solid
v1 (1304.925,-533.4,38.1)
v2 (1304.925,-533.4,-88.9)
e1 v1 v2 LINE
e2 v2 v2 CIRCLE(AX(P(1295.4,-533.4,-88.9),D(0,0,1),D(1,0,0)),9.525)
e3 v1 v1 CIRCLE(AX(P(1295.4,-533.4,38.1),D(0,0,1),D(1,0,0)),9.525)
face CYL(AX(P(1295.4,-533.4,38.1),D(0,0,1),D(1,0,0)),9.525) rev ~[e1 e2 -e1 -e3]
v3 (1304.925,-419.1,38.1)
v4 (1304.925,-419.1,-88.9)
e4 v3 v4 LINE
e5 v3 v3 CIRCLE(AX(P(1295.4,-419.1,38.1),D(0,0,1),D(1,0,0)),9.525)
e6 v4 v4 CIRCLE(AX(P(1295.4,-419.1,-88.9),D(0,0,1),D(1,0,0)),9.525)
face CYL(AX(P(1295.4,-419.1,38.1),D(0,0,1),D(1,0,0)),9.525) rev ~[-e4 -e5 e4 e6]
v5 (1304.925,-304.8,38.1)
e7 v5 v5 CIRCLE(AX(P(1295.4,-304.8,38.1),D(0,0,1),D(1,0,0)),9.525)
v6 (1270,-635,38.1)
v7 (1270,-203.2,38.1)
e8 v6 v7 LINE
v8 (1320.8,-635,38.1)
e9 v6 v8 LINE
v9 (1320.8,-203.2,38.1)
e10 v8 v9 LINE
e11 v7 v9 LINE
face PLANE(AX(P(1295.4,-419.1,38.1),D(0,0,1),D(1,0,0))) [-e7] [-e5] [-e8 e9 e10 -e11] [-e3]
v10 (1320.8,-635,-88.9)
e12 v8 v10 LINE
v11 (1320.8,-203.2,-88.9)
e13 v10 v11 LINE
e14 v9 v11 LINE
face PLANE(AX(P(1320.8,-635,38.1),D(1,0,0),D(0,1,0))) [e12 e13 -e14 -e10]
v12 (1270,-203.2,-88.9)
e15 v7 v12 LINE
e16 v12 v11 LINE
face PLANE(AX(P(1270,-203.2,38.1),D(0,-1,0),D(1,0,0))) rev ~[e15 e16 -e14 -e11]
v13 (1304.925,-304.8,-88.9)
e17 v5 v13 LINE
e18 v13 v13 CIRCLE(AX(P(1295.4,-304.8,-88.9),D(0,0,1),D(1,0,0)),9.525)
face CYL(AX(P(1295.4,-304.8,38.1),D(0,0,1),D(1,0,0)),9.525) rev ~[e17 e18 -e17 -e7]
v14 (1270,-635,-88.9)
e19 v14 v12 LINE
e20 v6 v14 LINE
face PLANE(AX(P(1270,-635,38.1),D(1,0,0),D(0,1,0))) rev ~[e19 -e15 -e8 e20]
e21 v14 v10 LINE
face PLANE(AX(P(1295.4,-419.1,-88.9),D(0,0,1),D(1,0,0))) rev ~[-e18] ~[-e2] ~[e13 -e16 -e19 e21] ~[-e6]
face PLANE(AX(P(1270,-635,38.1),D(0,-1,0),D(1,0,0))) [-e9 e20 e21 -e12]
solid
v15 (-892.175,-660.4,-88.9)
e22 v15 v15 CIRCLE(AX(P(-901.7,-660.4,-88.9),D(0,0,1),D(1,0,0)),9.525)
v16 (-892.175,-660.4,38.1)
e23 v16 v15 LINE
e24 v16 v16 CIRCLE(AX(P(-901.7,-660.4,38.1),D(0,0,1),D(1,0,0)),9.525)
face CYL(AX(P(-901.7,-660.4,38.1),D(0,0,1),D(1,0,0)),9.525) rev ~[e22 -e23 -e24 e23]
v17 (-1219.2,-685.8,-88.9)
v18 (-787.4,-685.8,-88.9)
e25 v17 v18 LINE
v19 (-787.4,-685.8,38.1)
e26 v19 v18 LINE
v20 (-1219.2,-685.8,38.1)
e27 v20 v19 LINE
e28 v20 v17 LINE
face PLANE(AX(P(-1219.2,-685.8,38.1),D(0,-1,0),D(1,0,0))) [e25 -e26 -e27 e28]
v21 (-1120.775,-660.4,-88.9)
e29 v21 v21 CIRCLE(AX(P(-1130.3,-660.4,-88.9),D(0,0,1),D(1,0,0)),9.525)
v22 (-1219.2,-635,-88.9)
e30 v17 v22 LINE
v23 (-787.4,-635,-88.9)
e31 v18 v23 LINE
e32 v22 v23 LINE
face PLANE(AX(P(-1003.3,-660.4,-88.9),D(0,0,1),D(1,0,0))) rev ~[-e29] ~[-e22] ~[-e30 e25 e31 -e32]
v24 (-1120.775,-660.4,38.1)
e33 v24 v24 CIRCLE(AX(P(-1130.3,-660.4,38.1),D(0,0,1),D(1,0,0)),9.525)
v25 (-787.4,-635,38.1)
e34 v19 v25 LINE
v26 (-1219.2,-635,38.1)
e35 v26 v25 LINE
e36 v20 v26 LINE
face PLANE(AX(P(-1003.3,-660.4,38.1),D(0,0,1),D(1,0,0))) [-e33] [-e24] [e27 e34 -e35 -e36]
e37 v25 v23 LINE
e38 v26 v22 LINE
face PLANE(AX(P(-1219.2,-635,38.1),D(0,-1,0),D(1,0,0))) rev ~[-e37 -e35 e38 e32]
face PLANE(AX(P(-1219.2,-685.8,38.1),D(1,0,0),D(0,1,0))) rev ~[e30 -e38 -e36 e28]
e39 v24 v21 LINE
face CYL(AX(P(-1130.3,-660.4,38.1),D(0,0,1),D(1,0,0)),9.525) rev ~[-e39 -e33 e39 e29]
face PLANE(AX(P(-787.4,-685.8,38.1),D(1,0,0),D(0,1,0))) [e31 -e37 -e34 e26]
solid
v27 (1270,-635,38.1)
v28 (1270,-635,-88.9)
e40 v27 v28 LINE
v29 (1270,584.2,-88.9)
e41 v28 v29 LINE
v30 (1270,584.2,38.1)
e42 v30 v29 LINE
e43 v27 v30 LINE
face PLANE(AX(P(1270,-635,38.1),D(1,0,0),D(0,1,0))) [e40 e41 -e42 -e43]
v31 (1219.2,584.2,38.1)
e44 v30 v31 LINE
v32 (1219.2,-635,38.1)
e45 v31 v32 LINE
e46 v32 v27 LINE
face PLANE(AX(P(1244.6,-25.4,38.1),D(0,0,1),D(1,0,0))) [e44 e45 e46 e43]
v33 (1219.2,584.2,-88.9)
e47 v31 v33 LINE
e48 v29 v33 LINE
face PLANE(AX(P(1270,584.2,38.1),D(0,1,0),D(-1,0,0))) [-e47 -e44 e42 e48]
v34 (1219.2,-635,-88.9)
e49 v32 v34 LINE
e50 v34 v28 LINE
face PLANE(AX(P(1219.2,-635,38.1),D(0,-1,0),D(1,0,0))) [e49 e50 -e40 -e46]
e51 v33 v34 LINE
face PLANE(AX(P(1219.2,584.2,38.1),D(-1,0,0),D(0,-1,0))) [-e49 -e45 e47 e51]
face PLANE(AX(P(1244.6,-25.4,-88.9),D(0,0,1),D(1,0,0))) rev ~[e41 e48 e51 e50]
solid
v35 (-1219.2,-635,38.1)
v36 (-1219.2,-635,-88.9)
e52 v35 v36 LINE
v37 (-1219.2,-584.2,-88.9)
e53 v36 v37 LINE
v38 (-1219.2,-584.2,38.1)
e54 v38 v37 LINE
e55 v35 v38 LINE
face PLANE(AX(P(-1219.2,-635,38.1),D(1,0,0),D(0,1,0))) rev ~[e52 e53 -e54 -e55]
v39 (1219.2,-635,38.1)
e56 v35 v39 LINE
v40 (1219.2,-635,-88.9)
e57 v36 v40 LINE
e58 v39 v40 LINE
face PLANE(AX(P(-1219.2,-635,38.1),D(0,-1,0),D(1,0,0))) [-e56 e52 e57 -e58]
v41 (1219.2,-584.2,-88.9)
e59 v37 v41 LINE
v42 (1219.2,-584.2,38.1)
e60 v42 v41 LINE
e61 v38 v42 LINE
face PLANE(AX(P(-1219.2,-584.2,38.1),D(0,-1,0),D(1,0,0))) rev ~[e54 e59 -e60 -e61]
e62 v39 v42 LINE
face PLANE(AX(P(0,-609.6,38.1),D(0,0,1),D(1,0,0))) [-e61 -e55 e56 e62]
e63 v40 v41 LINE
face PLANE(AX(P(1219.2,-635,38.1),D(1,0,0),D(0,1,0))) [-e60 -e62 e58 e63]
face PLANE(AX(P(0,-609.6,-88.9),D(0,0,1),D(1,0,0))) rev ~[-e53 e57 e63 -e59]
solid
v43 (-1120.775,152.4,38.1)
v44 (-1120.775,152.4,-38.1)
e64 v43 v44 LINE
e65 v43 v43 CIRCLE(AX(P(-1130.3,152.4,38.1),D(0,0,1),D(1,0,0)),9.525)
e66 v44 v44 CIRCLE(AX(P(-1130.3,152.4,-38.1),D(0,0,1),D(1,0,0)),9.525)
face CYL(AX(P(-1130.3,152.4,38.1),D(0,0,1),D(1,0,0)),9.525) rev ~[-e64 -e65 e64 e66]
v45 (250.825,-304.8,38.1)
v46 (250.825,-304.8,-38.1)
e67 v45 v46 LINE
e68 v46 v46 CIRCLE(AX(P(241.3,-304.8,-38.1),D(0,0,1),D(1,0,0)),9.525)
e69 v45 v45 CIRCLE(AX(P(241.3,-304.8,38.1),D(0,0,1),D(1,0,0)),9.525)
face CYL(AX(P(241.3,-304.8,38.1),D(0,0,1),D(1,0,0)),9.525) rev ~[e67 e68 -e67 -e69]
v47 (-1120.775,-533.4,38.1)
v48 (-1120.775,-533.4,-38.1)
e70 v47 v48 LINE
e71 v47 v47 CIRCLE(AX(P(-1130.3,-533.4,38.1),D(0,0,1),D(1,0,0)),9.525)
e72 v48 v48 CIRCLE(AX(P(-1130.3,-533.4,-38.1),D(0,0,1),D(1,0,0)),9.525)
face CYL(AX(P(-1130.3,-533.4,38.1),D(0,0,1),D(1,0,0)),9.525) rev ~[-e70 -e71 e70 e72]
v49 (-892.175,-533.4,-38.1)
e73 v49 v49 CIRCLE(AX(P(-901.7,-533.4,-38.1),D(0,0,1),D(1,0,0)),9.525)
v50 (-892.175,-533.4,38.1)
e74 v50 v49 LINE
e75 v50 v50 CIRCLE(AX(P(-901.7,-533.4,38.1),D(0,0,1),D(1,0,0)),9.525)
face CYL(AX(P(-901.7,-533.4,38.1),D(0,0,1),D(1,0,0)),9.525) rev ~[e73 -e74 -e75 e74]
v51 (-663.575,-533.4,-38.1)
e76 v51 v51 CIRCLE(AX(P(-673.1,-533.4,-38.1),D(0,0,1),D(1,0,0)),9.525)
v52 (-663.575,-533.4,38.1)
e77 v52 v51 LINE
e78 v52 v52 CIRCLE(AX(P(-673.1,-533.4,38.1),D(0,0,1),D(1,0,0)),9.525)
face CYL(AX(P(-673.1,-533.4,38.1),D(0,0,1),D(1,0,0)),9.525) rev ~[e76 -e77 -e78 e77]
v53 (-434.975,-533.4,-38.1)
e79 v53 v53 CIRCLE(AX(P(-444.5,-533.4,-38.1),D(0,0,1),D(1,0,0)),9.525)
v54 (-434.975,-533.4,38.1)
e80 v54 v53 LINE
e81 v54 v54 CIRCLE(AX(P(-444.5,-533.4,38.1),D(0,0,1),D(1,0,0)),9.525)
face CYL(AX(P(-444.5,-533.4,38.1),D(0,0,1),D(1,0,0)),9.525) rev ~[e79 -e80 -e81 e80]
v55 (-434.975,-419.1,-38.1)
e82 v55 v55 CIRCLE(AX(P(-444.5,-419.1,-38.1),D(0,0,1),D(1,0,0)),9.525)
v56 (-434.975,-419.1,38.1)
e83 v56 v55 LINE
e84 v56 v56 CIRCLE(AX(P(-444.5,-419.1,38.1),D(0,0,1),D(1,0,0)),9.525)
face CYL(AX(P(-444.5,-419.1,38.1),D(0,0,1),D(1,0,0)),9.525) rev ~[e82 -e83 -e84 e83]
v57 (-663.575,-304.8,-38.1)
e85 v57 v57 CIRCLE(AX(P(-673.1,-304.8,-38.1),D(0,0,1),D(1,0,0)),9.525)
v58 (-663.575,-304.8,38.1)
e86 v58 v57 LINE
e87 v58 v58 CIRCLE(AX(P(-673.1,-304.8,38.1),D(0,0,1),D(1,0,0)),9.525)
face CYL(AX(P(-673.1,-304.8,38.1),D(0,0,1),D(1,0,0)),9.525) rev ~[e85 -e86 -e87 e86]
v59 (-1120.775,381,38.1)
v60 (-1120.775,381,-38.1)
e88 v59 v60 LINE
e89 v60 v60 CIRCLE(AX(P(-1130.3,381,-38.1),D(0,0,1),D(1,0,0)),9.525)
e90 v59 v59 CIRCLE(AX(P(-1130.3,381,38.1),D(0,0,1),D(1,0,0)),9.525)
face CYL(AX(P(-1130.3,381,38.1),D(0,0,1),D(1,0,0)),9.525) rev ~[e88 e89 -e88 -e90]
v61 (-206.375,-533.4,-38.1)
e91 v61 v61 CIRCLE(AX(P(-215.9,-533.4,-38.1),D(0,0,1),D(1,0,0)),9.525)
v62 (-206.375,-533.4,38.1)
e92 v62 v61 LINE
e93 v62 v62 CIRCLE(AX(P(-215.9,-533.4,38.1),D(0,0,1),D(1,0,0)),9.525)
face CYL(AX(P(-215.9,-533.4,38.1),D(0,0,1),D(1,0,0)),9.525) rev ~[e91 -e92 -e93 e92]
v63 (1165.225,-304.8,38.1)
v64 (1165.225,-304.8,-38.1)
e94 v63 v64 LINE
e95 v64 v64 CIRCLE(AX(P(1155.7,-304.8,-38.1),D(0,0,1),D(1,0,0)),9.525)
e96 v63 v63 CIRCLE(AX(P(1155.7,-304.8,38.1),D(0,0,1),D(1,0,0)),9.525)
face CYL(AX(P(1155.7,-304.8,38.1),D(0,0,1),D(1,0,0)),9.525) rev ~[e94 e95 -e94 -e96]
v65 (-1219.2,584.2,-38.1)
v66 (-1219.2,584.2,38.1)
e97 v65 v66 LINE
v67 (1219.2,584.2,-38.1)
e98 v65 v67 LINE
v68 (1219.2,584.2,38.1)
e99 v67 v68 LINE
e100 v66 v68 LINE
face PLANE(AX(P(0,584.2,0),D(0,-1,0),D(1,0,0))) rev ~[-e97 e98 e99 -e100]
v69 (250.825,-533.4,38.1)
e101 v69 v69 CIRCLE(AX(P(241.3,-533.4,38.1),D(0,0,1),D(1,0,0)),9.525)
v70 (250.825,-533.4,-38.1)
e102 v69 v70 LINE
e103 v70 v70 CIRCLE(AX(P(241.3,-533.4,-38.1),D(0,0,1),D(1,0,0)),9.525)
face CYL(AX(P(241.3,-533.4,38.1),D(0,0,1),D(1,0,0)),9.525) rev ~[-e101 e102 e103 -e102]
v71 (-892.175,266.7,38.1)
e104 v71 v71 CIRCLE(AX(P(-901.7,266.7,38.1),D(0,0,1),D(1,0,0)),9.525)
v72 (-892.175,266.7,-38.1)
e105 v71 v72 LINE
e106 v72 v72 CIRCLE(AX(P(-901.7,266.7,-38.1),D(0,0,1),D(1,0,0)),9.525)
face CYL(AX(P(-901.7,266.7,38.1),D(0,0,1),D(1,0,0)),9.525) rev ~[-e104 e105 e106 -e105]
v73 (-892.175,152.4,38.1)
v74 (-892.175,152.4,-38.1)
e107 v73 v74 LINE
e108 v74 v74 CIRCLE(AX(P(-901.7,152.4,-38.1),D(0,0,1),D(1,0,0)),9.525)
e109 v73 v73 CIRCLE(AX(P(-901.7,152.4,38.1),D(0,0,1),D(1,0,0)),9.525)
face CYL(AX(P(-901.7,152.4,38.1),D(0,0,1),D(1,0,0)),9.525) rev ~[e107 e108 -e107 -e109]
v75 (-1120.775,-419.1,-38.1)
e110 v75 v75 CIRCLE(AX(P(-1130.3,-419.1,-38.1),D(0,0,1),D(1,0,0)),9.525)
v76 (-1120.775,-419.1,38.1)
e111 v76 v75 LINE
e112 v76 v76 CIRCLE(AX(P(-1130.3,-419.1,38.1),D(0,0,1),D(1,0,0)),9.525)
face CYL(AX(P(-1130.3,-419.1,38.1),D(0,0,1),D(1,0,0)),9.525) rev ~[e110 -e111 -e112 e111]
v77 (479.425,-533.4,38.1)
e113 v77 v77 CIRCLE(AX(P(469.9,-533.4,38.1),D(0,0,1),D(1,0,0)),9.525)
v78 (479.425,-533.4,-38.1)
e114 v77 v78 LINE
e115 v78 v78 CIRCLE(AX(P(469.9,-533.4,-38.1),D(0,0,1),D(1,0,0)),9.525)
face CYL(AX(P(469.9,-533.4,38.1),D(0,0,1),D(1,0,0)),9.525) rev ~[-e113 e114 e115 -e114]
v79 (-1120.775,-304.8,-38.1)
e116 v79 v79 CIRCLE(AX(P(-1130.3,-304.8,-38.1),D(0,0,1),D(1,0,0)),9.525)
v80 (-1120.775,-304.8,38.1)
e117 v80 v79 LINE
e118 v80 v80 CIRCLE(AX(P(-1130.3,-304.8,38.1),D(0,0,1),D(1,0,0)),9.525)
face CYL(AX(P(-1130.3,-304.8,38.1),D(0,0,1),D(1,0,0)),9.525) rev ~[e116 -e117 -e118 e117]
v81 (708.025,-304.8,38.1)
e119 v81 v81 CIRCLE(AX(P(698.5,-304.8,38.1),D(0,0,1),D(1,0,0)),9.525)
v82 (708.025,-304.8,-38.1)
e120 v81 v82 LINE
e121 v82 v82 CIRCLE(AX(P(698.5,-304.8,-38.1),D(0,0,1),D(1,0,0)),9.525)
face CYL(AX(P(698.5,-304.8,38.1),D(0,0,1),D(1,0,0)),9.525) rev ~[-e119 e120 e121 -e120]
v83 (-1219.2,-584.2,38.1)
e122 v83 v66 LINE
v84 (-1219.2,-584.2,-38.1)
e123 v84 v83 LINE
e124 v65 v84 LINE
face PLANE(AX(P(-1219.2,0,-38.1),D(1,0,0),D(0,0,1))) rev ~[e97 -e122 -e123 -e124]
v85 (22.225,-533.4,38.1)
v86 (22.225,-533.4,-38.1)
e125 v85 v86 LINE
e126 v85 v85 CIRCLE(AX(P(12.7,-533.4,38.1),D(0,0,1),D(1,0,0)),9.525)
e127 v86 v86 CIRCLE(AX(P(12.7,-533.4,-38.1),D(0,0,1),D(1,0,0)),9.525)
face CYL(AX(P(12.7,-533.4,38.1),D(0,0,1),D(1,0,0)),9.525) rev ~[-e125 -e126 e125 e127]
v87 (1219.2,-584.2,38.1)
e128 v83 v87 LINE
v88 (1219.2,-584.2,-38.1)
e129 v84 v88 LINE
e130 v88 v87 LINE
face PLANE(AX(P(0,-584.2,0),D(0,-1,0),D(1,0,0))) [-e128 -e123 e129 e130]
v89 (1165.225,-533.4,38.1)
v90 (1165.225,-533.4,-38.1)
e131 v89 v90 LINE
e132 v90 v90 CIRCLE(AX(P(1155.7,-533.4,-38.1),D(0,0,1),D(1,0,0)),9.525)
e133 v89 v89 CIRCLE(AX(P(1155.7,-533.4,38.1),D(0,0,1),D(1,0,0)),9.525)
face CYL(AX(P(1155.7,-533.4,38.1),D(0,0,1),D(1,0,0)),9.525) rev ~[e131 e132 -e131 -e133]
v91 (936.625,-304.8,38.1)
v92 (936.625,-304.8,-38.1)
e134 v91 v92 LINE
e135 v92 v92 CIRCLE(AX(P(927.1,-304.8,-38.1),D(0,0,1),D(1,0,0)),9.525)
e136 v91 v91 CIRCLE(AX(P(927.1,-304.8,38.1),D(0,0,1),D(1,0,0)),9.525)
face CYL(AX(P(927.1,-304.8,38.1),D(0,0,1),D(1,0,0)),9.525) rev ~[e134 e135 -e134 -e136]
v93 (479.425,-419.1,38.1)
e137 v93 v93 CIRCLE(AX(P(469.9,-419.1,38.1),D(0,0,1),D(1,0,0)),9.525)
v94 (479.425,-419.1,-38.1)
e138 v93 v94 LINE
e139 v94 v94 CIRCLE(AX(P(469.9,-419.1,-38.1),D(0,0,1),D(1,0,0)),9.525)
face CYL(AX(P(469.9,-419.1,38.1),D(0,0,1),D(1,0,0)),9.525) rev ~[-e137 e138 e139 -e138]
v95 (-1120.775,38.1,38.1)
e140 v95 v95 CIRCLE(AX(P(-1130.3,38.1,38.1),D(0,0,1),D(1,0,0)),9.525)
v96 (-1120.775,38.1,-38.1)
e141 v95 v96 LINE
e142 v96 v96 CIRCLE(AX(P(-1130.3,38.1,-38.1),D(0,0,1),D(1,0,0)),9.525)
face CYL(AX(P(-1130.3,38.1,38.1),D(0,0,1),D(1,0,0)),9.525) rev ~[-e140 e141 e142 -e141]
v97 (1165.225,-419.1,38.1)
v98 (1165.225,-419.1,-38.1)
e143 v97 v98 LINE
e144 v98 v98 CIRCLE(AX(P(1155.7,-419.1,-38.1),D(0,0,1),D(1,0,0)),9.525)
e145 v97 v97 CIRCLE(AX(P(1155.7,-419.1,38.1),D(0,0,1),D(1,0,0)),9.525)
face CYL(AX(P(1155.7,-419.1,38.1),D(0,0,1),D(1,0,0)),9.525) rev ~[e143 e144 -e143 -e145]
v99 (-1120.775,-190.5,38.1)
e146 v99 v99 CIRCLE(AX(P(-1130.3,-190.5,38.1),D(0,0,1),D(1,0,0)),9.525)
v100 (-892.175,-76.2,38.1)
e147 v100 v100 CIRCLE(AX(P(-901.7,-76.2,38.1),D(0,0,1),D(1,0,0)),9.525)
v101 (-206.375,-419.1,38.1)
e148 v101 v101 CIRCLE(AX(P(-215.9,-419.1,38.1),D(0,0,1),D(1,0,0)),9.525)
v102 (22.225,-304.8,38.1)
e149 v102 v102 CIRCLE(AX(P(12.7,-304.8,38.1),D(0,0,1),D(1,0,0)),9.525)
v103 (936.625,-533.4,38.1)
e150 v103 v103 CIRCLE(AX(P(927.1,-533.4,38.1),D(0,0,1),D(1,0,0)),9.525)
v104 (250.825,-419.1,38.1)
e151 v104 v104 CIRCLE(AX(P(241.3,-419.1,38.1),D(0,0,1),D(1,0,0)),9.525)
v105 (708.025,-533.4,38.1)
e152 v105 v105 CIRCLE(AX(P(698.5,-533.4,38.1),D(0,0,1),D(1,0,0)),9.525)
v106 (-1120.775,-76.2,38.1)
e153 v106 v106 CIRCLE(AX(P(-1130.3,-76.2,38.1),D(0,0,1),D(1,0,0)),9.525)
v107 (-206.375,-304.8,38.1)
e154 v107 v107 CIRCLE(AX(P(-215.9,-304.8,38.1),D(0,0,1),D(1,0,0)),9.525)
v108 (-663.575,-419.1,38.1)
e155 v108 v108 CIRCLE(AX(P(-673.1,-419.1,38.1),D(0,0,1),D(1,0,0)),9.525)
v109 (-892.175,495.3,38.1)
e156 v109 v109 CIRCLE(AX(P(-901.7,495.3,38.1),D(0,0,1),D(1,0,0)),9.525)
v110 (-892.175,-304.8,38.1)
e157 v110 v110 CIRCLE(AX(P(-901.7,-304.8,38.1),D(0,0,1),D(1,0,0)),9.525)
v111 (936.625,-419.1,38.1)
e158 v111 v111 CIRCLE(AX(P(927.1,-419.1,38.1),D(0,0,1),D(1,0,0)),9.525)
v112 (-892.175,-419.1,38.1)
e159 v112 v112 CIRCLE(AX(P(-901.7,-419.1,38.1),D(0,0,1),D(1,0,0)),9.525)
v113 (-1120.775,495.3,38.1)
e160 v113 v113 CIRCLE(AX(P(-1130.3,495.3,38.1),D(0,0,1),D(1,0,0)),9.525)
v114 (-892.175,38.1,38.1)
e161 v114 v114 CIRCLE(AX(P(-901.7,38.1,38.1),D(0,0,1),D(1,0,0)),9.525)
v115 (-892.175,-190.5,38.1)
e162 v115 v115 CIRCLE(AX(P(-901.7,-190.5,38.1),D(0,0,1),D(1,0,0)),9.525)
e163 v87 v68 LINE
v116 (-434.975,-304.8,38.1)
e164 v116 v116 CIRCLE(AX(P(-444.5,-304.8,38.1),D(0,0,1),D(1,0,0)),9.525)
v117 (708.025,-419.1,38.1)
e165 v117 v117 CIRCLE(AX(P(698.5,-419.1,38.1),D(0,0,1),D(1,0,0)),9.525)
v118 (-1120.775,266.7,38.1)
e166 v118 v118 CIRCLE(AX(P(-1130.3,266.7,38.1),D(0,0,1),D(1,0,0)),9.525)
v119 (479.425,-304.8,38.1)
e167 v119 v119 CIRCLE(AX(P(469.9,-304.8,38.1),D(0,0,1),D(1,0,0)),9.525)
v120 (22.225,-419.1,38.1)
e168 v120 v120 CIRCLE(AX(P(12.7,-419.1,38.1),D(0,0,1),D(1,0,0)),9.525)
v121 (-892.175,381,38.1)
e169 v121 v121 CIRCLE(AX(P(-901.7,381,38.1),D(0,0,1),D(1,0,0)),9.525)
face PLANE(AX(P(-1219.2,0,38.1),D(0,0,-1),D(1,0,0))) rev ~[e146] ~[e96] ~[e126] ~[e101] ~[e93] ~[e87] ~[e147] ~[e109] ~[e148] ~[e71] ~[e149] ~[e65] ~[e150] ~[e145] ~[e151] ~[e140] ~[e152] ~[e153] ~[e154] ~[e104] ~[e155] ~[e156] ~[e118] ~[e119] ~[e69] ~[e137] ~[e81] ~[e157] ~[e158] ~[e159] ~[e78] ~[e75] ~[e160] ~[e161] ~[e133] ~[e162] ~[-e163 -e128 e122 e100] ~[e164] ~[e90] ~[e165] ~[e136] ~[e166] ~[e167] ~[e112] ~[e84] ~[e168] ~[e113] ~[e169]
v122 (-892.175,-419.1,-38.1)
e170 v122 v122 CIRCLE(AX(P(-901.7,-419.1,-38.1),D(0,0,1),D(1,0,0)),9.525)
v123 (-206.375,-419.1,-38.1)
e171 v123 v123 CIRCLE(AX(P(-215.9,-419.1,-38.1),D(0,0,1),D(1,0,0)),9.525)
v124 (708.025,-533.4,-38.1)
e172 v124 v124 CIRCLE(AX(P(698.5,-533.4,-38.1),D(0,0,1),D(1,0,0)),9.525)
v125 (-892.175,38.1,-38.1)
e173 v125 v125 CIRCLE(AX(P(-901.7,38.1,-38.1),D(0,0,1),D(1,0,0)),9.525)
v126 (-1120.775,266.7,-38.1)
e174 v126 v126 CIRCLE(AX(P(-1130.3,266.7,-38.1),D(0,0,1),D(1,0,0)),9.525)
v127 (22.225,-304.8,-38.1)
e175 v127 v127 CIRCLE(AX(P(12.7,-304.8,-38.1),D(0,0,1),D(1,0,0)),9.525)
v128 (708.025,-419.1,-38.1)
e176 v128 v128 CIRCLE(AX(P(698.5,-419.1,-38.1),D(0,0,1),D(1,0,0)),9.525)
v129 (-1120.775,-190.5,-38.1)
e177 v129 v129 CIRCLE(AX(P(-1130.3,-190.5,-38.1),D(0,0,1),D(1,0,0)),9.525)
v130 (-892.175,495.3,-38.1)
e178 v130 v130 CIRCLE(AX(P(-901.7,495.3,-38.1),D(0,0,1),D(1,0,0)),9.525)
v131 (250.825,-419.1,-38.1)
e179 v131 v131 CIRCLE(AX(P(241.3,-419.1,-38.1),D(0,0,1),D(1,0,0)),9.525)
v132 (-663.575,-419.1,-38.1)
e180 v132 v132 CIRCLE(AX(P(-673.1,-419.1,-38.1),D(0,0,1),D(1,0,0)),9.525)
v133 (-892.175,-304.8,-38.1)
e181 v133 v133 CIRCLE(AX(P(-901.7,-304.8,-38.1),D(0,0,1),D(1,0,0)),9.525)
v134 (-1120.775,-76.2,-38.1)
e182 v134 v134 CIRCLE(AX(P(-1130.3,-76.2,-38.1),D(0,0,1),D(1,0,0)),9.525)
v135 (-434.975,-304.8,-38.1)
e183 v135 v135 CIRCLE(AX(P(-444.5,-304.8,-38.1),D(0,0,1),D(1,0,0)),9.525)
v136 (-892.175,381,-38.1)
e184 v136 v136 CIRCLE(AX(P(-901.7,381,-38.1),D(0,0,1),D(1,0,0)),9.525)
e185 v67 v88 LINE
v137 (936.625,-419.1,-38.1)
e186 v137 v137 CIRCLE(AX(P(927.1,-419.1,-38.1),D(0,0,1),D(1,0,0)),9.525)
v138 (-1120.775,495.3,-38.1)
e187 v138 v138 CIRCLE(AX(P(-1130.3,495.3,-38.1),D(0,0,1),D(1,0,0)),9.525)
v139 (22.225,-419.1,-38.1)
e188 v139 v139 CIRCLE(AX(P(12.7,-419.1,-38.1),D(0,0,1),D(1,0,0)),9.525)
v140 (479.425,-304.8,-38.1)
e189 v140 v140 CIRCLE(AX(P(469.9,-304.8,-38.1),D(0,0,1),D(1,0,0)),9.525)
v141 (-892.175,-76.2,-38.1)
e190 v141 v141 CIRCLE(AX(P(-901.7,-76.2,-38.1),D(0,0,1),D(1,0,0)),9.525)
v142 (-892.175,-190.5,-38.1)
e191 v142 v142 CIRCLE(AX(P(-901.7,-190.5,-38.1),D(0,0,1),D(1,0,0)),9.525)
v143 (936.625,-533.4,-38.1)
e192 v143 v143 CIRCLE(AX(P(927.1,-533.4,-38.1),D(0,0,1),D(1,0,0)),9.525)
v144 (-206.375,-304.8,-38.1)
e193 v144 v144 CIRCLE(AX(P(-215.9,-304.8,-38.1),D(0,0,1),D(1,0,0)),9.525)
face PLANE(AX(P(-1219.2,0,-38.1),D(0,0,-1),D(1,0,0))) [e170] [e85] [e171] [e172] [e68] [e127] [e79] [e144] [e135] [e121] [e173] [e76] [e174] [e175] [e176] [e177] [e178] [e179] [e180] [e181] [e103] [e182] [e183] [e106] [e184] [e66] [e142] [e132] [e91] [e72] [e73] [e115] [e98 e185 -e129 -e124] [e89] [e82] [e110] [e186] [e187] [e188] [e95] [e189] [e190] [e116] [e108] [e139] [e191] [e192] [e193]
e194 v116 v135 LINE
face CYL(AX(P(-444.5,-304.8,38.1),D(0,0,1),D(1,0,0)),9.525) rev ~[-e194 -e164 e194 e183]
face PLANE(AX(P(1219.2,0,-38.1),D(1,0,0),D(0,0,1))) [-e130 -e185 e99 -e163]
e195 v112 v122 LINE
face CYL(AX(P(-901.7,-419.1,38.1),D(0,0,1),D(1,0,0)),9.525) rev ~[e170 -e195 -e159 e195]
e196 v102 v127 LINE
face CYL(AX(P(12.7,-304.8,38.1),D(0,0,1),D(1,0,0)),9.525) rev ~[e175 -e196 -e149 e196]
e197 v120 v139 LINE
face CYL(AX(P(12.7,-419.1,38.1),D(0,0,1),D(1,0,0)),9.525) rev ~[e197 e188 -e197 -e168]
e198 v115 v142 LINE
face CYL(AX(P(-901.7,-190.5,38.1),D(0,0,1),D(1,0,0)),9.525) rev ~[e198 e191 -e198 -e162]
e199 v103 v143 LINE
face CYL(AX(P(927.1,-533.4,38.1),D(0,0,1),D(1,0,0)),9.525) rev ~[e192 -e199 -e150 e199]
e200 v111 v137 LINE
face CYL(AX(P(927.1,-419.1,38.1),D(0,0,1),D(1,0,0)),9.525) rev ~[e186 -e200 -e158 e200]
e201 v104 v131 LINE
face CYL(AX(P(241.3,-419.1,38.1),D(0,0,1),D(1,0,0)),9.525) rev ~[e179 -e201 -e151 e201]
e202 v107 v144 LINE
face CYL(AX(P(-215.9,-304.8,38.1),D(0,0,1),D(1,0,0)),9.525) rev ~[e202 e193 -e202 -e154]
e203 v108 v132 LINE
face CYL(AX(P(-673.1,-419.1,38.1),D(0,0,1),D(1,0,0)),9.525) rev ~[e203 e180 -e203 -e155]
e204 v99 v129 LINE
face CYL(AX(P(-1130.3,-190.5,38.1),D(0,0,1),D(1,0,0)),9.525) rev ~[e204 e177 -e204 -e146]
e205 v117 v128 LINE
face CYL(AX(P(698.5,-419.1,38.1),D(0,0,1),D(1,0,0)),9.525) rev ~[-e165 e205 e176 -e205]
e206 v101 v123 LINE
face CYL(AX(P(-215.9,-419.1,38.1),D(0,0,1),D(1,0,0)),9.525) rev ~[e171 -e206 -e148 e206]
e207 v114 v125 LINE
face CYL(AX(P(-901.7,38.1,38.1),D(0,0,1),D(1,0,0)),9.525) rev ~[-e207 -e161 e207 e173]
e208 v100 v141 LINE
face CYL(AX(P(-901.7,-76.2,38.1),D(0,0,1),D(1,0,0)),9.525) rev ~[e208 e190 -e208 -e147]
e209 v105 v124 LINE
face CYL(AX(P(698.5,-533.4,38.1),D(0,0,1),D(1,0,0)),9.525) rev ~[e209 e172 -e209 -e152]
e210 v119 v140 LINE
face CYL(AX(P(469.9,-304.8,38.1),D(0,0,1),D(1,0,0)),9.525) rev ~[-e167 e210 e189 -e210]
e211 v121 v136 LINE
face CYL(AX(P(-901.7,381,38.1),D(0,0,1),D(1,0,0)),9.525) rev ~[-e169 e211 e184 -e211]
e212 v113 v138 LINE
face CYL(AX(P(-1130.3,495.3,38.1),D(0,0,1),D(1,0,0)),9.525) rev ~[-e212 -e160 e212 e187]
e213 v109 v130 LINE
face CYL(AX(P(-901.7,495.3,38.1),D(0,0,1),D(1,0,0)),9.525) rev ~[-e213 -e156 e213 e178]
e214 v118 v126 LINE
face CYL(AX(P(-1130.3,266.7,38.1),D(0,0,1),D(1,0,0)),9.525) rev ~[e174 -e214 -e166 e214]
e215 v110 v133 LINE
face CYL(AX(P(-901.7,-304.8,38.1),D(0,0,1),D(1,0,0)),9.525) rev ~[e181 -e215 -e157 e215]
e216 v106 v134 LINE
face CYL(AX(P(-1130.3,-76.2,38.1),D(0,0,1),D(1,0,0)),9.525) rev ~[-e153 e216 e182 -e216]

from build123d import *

# Parameters (mm, degrees)
F0_W      = 2438.4
F0_H      = 76.2
F1_DEPTH  = 584.2
F2_W      = 2438.4
F2_H      = 50.8
F3_DEPTH  = 127
F5_DEPTH  = 127
F6_W      = 431.8
F6_H      = 50.8
F7_DEPTH  = 127
F8_W      = 50.8
F8_H      = 431.8
F9_DEPTH  = 127
F10_R     = 9.525
F11_DEPTH = 76.2
F12_R     = 9.525
F13_DEPTH = 127
F14_R     = 9.525
F15_DEPTH = 127


with BuildPart() as f1:
    # F0 (on Front) → F1 (new body, symmetric)
    with BuildSketch(Plane.XZ):
        Rectangle(F0_W, F0_H)
    extrude(amount=F1_DEPTH, both=True)

    # F10 (on face) → F11 (cut)
    with BuildSketch(Plane.XY.offset(38.1)):
        with Locations((-1130.3, -533.4)):
            Circle(F10_R)
        with Locations((-1130.3, -419.1)):
            Circle(F10_R)
        with Locations((-1130.3, -304.8)):
            Circle(F10_R)
        with Locations((-1130.3, -190.5)):
            Circle(F10_R)
        with Locations((-1130.3, -76.2)):
            Circle(F10_R)
        with Locations((-1130.3, 38.1)):
            Circle(F10_R)
        with Locations((-1130.3, 152.4)):
            Circle(F10_R)
        with Locations((-1130.3, 266.7)):
            Circle(F10_R)
        with Locations((-1130.3, 381)):
            Circle(F10_R)
        with Locations((-1130.3, 495.3)):
            Circle(F10_R)
        with Locations((-901.7, -533.4)):
            Circle(F10_R)
        with Locations((-901.7, -419.1)):
            Circle(F10_R)
        with Locations((-901.7, -304.8)):
            Circle(F10_R)
        with Locations((-901.7, -190.5)):
            Circle(F10_R)
        with Locations((-901.7, -76.2)):
            Circle(F10_R)
        with Locations((-901.7, 38.1)):
            Circle(F10_R)
        with Locations((-901.7, 152.4)):
            Circle(F10_R)
        with Locations((-901.7, 266.7)):
            Circle(F10_R)
        with Locations((-901.7, 381)):
            Circle(F10_R)
        with Locations((-901.7, 495.3)):
            Circle(F10_R)
        with Locations((-673.1, -533.4)):
            Circle(F10_R)
        with Locations((-673.1, -419.1)):
            Circle(F10_R)
        with Locations((-673.1, -304.8)):
            Circle(F10_R)
        with Locations((-444.5, -533.4)):
            Circle(F10_R)
        with Locations((-444.5, -419.1)):
            Circle(F10_R)
        with Locations((-444.5, -304.8)):
            Circle(F10_R)
        with Locations((-215.9, -533.4)):
            Circle(F10_R)
        with Locations((-215.9, -419.1)):
            Circle(F10_R)
        with Locations((-215.9, -304.8)):
            Circle(F10_R)
        with Locations((12.7, -533.4)):
            Circle(F10_R)
        with Locations((12.7, -419.1)):
            Circle(F10_R)
        with Locations((12.7, -304.8)):
            Circle(F10_R)
        with Locations((241.3, -533.4)):
            Circle(F10_R)
        with Locations((241.3, -419.1)):
            Circle(F10_R)
        with Locations((241.3, -304.8)):
            Circle(F10_R)
        with Locations((469.9, -533.4)):
            Circle(F10_R)
        with Locations((469.9, -419.1)):
            Circle(F10_R)
        with Locations((469.9, -304.8)):
            Circle(F10_R)
        with Locations((698.5, -533.4)):
            Circle(F10_R)
        with Locations((698.5, -419.1)):
            Circle(F10_R)
        with Locations((698.5, -304.8)):
            Circle(F10_R)
        with Locations((927.1, -533.4)):
            Circle(F10_R)
        with Locations((927.1, -419.1)):
            Circle(F10_R)
        with Locations((927.1, -304.8)):
            Circle(F10_R)
        with Locations((1155.7, -533.4)):
            Circle(F10_R)
        with Locations((1155.7, -419.1)):
            Circle(F10_R)
        with Locations((1155.7, -304.8)):
            Circle(F10_R)
    extrude(amount=-F11_DEPTH, mode=Mode.SUBTRACT)


with BuildPart() as f3:
    # F2 (on face) → F3 (new body)
    with BuildSketch(Plane.XY.offset(38.1)):
        with Locations((0, -609.6)):
            Rectangle(F2_W, F2_H)
    extrude(amount=-F3_DEPTH)


with BuildPart() as f5:
    # F4 (on face) → F5 (new body)
    with BuildSketch(Plane.XY.offset(38.1)):
        Polygon((1219.2, 584.2), (1219.2, -584.2), (1219.2, -635), (1270, -635), (1270, 584.2), align=None)
    extrude(amount=-F5_DEPTH)


with BuildPart() as f7:
    # F6 (on face) → F7 (new body)
    with BuildSketch(Plane.XY.offset(38.1)):
        with Locations((-1003.3, -660.4)):
            Rectangle(F6_W, F6_H)
    extrude(amount=-F7_DEPTH)

    # F12 (on face) → F13 (cut)
    with BuildSketch(Plane.XY.offset(38.1)):
        with Locations((-1130.3, -660.4)):
            Circle(F12_R)
        with Locations((-901.7, -660.4)):
            Circle(F12_R)
    extrude(amount=-F13_DEPTH, mode=Mode.SUBTRACT)


with BuildPart() as f9:
    # F8 (on face) → F9 (new body)
    with BuildSketch(Plane.XY.offset(38.1)):
        with Locations((1295.4, -419.1)):
            Rectangle(F8_W, F8_H)
    extrude(amount=-F9_DEPTH)

    # F14 (on face) → F15 (cut)
    with BuildSketch(Plane.XY.offset(38.1)):
        with Locations((1295.4, -533.4)):
            Circle(F14_R)
        with Locations((1295.4, -419.1)):
            Circle(F14_R)
        with Locations((1295.4, -304.8)):
            Circle(F14_R)
    extrude(amount=-F15_DEPTH, mode=Mode.SUBTRACT)


solid = Compound([f1.part, f3.part, f5.part, f7.part, f9.part])
